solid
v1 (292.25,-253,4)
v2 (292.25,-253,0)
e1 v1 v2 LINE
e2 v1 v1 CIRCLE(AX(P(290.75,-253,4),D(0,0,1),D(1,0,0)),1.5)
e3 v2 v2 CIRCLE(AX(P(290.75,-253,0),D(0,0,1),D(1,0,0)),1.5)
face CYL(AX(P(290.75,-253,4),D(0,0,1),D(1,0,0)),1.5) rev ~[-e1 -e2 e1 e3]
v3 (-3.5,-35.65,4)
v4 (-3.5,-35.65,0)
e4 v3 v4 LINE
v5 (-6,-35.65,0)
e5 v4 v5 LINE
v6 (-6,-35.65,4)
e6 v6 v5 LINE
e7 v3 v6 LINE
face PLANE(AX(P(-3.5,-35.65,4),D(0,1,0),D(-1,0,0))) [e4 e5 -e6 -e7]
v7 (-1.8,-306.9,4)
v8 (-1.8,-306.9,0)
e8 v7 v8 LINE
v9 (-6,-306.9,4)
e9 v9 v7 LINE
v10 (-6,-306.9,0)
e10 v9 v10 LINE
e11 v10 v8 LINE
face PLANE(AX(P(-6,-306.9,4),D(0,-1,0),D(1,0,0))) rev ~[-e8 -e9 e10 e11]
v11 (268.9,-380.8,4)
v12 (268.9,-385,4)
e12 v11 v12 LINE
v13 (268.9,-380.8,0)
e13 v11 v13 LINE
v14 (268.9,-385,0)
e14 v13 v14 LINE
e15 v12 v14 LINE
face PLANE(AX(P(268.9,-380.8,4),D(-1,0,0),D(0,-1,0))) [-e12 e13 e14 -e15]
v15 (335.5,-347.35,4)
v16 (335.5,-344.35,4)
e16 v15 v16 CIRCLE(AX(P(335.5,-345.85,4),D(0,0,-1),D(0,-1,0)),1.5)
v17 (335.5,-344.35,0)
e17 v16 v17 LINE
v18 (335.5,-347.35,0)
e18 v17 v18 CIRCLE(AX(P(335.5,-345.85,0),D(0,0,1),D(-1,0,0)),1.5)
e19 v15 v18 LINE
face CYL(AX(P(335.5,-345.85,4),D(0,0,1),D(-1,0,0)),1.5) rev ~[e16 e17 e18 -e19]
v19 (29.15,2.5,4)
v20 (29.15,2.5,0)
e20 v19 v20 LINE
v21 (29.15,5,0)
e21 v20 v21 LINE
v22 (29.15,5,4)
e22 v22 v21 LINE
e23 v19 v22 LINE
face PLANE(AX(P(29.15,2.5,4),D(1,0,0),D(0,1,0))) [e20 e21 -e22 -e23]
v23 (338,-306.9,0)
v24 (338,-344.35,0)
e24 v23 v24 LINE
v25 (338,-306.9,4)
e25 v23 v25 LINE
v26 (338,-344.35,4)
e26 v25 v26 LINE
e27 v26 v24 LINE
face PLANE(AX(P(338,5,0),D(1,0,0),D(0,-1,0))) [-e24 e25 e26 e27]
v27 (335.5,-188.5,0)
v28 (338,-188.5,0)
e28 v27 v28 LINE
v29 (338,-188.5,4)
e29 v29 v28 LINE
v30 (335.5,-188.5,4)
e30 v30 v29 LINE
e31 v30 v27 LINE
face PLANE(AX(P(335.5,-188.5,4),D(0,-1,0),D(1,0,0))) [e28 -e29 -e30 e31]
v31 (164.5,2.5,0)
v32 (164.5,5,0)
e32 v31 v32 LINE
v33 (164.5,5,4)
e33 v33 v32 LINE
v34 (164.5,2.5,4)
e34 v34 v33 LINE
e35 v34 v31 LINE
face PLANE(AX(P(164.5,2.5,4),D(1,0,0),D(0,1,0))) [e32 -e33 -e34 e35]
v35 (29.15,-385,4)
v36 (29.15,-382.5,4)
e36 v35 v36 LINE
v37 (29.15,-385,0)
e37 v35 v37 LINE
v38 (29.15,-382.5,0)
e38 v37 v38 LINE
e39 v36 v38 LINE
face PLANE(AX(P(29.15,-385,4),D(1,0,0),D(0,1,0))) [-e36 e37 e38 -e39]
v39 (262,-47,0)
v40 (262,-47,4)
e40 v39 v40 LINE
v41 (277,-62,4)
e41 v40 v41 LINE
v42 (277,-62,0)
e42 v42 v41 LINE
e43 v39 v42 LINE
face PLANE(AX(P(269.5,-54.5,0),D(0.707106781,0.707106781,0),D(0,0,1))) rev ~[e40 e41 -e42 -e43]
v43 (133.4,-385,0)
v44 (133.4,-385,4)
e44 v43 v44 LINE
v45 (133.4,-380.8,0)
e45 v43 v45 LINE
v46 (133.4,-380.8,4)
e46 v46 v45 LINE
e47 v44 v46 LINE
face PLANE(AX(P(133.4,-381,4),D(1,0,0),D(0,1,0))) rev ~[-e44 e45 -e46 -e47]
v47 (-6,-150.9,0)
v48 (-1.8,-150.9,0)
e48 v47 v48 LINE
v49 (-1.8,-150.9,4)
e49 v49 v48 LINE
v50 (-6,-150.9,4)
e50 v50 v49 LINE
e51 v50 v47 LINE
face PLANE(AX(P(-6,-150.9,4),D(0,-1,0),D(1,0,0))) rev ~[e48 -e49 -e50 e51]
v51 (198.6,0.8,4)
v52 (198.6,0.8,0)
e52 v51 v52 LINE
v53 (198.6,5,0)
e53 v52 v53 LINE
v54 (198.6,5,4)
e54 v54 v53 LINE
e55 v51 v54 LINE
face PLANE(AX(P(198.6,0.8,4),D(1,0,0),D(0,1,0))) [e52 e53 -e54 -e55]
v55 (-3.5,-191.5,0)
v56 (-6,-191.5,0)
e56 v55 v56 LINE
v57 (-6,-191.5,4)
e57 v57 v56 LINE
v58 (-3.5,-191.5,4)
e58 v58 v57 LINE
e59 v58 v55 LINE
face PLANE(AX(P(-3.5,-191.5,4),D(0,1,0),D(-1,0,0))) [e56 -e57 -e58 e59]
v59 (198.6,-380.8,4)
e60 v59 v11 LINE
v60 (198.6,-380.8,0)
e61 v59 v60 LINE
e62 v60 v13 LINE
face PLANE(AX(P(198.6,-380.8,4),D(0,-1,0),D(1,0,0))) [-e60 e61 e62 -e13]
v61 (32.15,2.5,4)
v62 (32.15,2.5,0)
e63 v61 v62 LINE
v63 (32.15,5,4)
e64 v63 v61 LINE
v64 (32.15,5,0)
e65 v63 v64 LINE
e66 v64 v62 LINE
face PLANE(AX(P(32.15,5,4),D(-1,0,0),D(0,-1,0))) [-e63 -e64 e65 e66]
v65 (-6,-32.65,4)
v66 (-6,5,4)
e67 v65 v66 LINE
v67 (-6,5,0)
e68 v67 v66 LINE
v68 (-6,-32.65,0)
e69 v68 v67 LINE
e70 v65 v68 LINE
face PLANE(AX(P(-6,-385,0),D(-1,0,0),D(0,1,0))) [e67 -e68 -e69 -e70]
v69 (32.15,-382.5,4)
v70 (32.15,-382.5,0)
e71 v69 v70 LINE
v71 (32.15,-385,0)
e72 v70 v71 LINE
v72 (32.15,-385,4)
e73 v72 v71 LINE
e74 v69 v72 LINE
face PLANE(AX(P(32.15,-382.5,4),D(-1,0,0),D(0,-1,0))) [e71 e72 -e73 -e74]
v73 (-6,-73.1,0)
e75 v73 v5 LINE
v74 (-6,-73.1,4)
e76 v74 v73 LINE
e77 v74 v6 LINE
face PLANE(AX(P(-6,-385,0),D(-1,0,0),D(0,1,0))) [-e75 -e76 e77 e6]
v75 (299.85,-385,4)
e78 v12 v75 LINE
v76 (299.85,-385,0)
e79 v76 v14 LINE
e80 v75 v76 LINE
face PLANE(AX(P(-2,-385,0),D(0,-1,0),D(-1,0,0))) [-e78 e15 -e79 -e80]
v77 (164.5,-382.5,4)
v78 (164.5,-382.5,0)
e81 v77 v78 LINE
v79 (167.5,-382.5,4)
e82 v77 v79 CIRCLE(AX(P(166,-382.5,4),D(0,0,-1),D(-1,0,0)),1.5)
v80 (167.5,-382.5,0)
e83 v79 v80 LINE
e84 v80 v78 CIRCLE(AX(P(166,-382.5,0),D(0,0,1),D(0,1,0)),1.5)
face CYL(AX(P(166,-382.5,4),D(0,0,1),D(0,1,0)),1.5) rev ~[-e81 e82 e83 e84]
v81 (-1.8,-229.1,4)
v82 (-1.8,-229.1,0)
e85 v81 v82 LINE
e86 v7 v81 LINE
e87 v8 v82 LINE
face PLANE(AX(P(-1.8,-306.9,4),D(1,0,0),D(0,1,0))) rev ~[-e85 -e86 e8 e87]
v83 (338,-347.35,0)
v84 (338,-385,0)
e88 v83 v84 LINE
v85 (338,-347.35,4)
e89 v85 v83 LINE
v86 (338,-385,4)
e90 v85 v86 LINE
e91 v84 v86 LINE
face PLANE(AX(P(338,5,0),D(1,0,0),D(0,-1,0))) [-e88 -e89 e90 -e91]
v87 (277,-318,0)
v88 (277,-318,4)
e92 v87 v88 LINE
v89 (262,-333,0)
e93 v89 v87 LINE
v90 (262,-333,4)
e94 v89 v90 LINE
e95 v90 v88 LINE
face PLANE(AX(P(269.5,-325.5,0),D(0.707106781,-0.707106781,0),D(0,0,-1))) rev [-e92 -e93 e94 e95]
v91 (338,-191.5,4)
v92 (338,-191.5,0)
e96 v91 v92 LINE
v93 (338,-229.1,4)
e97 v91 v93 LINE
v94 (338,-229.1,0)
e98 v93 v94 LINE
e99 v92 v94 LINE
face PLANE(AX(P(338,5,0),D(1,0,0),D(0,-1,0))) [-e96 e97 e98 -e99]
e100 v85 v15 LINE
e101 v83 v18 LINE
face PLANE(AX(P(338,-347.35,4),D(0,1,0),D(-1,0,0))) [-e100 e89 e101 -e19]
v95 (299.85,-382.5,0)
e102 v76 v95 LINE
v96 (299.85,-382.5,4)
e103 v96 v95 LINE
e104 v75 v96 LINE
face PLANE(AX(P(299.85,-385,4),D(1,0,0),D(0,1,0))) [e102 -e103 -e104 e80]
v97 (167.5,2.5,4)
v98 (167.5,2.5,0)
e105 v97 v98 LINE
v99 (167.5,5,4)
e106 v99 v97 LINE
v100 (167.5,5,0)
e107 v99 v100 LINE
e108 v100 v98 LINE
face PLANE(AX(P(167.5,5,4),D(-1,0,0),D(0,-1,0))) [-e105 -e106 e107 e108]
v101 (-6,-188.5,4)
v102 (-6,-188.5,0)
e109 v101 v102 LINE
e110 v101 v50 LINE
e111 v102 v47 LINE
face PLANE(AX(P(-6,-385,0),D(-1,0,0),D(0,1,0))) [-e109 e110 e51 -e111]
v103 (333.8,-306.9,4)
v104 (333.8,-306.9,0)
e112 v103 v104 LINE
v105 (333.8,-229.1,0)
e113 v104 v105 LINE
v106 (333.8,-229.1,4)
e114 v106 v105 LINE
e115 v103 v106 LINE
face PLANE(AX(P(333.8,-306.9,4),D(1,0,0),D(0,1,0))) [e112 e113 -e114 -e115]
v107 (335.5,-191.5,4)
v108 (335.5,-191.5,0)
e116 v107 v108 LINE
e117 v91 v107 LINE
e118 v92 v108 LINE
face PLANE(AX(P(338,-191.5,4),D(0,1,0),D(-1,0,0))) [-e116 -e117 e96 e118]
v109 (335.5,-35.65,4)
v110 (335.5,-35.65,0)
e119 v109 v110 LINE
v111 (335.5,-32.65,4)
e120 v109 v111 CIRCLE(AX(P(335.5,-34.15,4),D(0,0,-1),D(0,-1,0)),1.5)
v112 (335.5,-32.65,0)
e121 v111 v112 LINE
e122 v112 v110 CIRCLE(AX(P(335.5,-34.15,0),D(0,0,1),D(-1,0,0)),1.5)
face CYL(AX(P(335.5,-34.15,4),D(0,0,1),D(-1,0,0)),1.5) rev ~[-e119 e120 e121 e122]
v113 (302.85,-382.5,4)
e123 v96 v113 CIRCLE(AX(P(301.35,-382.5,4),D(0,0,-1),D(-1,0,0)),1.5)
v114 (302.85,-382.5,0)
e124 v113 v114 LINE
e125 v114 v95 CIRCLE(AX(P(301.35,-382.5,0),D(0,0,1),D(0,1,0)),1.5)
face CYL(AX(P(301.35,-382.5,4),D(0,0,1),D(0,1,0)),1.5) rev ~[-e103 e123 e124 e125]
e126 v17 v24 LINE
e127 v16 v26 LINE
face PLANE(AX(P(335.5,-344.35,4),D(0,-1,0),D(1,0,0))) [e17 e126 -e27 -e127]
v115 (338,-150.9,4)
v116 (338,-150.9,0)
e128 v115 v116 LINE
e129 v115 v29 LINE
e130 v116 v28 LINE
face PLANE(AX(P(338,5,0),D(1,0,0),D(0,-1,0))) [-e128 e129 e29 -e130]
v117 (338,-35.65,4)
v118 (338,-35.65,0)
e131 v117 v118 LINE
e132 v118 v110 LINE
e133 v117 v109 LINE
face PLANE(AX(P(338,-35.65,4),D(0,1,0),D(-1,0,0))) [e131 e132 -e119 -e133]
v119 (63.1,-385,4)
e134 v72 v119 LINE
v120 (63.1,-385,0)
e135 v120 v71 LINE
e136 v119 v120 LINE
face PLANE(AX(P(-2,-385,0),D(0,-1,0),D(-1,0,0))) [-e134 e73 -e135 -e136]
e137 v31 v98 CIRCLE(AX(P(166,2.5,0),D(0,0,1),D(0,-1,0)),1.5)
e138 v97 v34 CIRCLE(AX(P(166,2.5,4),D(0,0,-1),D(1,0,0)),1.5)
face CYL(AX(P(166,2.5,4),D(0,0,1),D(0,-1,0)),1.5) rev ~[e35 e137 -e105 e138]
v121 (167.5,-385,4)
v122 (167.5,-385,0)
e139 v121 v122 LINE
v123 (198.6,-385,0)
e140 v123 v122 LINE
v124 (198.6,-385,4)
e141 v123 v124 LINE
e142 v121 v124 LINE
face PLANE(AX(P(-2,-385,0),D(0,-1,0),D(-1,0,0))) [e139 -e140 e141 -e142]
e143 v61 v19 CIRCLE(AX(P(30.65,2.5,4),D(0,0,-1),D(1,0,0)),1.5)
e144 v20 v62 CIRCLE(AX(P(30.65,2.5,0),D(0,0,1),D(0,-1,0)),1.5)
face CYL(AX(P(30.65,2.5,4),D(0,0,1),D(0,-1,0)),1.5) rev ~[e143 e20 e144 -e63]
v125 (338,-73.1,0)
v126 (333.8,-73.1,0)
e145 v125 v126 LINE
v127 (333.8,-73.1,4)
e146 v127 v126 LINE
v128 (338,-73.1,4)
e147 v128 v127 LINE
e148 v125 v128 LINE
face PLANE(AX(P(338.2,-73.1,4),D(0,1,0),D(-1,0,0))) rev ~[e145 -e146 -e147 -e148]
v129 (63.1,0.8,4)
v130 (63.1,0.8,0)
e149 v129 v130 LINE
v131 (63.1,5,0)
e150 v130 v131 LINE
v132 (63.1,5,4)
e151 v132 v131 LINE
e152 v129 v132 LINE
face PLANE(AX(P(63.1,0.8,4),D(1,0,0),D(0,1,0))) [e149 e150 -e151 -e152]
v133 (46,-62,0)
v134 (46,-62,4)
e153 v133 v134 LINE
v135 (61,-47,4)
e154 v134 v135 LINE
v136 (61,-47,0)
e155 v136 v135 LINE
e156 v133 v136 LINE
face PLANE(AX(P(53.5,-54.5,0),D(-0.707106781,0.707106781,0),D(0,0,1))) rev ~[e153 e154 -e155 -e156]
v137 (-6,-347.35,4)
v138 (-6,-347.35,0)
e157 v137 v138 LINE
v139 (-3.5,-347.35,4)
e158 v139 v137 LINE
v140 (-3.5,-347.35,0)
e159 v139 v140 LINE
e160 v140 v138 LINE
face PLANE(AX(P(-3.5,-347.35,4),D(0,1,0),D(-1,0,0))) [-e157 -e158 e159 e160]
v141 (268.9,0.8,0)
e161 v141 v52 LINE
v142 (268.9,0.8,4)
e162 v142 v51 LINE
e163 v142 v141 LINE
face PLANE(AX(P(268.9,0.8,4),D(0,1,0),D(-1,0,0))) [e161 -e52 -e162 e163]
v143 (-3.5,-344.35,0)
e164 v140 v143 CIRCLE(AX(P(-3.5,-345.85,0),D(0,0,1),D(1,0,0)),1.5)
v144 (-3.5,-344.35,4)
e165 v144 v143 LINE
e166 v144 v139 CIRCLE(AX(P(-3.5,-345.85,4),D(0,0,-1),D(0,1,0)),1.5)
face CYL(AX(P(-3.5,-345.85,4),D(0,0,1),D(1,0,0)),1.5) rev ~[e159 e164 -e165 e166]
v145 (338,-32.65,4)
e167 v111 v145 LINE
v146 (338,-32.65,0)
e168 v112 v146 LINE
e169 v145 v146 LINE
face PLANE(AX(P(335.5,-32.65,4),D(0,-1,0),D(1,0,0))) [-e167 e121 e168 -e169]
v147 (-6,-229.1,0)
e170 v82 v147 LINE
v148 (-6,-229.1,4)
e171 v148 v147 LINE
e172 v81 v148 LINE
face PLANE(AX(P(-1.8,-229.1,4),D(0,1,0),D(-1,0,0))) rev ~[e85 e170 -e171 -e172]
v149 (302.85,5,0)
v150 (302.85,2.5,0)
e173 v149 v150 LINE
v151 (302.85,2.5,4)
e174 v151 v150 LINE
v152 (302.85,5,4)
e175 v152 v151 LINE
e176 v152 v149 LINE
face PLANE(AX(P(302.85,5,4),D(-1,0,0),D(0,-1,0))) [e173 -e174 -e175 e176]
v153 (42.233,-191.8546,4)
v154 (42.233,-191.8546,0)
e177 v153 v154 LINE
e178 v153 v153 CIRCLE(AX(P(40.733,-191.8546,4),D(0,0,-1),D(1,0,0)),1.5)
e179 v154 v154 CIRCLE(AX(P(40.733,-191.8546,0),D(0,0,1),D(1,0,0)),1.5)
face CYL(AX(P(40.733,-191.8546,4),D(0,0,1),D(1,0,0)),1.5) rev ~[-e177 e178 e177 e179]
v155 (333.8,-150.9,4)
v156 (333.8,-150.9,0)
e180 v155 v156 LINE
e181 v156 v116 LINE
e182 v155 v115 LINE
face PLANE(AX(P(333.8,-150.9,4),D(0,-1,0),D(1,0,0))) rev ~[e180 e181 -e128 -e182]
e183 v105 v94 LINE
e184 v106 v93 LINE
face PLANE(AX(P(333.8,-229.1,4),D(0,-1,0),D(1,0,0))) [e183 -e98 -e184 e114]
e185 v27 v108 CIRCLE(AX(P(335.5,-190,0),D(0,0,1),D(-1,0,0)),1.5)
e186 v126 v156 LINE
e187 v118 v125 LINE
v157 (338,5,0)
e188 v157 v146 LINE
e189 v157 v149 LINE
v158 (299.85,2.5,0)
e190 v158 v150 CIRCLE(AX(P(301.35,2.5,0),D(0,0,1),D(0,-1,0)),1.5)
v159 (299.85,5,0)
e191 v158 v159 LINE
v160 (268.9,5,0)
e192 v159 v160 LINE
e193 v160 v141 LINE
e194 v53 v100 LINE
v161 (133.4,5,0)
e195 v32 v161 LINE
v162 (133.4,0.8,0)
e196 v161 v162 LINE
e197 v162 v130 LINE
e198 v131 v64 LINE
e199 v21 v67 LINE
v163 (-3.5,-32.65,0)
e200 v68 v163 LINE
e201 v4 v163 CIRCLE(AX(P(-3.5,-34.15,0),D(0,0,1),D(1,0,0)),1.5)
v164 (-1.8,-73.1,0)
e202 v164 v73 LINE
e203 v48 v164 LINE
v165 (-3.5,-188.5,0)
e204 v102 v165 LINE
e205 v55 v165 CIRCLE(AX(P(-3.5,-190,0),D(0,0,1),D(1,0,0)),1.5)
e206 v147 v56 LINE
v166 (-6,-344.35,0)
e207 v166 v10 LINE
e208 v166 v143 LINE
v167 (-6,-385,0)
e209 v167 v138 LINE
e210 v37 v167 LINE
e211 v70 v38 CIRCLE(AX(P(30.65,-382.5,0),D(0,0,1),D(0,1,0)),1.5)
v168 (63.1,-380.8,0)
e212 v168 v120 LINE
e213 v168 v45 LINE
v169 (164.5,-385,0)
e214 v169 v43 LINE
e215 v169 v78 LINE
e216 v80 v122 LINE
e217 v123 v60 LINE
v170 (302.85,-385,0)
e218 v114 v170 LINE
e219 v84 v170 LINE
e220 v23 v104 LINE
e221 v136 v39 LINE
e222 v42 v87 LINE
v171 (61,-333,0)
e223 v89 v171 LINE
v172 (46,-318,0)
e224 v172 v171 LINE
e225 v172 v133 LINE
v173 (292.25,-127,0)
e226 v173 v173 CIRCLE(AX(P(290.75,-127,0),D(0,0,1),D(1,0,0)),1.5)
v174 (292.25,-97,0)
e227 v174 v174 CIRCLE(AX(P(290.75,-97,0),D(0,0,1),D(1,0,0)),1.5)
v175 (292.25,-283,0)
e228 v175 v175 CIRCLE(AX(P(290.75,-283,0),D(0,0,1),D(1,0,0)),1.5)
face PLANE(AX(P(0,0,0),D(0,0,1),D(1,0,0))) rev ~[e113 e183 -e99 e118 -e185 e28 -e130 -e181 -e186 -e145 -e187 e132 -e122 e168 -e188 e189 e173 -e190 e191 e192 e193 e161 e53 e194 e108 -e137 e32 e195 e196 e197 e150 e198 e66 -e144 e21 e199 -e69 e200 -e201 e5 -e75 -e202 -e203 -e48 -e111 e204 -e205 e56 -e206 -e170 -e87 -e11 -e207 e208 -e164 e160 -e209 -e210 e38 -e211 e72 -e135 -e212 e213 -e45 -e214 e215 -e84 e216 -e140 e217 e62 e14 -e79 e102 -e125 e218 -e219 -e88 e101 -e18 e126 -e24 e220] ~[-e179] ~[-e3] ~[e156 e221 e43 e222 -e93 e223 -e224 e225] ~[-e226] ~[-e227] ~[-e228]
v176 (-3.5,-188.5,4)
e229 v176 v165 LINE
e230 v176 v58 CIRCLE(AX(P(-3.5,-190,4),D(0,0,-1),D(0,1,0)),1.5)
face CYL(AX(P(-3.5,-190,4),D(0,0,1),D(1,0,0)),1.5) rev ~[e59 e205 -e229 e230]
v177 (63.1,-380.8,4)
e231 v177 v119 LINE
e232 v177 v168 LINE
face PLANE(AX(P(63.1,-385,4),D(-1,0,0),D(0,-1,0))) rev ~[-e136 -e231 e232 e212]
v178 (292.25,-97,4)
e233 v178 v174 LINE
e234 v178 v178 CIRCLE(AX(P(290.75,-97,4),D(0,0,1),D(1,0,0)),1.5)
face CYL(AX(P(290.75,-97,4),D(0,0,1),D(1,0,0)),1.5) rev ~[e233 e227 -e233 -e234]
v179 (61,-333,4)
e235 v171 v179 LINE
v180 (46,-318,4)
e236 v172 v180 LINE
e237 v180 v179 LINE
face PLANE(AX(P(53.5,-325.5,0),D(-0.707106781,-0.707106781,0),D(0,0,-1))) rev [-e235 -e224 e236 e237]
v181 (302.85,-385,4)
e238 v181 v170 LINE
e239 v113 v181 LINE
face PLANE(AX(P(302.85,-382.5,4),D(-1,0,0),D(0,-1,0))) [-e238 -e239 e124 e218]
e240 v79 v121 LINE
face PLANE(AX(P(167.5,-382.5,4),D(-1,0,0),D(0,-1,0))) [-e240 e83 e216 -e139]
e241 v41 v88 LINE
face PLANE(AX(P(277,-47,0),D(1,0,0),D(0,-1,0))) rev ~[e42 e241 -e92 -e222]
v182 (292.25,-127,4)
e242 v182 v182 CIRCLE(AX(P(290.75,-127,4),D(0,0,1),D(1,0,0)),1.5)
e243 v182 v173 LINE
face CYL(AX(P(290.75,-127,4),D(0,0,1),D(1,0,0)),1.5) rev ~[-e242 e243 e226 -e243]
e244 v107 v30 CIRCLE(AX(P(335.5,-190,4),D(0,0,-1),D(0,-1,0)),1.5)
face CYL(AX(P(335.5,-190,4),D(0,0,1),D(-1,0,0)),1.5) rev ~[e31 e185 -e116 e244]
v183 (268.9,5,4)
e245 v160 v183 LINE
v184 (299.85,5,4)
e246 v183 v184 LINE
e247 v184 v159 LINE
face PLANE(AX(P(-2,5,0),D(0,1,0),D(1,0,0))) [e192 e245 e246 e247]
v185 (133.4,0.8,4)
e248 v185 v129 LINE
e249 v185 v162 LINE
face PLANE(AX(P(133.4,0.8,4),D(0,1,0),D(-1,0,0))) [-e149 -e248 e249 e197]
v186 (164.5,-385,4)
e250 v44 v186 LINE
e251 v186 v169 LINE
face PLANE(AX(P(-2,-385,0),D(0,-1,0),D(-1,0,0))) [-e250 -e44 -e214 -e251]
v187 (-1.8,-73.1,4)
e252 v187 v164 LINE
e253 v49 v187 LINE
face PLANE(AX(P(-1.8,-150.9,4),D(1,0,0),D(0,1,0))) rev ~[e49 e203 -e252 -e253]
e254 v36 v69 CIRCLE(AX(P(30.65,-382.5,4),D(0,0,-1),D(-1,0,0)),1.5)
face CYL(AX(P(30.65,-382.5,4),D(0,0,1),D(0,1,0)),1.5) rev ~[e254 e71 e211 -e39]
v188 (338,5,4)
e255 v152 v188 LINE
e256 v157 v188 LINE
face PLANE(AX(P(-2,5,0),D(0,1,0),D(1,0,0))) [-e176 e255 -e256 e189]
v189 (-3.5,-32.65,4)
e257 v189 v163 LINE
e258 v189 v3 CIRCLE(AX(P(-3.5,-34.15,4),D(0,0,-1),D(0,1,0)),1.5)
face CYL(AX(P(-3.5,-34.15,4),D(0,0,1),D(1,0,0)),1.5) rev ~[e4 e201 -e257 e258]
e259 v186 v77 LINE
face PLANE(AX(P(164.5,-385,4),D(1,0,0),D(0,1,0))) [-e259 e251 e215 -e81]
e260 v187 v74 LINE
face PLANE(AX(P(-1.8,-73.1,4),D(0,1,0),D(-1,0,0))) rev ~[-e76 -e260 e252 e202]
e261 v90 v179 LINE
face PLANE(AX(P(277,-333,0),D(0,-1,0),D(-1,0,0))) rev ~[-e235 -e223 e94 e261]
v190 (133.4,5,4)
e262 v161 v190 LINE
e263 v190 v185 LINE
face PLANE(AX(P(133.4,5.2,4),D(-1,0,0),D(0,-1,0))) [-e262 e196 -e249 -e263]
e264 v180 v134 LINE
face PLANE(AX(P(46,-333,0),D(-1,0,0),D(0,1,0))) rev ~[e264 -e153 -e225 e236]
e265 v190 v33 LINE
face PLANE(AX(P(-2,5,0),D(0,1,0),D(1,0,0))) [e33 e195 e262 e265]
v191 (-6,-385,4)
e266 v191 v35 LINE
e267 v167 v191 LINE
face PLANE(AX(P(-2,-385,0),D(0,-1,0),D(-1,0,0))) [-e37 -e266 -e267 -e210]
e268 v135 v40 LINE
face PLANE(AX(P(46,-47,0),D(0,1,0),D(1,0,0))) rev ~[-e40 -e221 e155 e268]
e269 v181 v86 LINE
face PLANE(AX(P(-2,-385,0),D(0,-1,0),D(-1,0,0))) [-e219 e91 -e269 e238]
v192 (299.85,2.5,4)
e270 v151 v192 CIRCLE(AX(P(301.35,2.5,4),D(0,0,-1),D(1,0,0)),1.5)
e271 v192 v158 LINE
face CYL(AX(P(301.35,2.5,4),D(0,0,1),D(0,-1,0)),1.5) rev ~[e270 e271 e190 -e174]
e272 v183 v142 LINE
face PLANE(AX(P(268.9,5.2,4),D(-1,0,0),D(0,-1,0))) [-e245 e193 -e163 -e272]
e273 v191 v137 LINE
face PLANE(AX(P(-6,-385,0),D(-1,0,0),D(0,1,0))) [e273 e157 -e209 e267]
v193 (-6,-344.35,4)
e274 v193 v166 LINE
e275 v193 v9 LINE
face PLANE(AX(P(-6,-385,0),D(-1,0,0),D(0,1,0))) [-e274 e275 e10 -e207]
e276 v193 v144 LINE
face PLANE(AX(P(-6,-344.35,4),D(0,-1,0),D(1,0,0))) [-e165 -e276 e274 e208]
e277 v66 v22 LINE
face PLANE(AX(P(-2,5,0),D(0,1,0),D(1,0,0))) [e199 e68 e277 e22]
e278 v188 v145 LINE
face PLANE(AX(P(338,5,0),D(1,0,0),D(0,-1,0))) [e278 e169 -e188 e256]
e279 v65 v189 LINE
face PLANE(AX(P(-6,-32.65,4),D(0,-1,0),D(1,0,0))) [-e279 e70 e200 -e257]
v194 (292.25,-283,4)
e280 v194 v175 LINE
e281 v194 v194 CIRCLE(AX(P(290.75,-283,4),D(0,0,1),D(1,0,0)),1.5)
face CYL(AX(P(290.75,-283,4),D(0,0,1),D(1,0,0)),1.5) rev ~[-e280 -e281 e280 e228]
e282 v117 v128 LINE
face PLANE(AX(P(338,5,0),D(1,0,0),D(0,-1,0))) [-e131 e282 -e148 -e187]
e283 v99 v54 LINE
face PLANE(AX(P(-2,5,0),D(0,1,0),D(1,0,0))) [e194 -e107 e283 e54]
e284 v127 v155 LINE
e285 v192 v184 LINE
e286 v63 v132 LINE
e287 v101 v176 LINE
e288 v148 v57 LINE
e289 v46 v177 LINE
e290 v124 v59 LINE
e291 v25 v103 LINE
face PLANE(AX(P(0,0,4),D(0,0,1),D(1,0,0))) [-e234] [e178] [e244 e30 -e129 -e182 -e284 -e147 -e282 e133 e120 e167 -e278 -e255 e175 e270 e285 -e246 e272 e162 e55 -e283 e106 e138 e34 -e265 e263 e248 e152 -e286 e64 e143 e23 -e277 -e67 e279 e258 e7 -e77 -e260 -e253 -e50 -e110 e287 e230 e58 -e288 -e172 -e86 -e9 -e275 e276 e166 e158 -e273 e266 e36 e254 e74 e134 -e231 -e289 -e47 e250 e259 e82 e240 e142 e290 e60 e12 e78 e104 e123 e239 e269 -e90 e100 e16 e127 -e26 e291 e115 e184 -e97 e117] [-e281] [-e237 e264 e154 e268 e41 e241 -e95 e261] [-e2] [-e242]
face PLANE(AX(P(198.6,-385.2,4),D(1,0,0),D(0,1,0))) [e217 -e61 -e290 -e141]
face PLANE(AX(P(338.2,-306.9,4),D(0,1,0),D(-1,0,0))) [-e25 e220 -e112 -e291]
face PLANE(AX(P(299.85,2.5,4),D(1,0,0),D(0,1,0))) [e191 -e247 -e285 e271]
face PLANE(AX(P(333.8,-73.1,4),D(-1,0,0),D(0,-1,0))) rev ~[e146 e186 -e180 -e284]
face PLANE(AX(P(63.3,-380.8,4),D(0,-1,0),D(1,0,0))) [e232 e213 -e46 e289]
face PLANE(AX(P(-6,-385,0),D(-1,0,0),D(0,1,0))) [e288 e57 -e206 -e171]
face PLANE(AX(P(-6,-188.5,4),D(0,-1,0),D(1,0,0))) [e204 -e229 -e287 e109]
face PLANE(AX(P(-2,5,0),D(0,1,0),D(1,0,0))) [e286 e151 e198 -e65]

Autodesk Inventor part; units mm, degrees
ref_plane "YZ Plane" through (0, 0, 0) normal (1, 0, 0) x (0, 1, 0)
ref_plane "XZ Plane" through (0, 0, 0) normal (0, 1, 0) x (-1, 0, 0)
ref_plane "XY Plane" through (0, 0, 0) normal (0, 0, 1) x (1, 0, 0)
sketch "Эскиз1" plane through (0, 0, 0) normal (0, 0, 1) x (1, 0, 0)
  line L0 (46, -47) -> (277, -47)
  line L1 (277, -47) -> (277, -333)
  line L2 (277, -333) -> (46, -333)
  line L3 (46, -333) -> (46, -47)
  line L4 (-2, 5) -> (334, 5) projected
  line L5 (338, 5) -> (338, -385) projected
  line L6 (334, -385) -> (-2, -385) projected
  line L7 (-6, -385) -> (-6, 5) projected
  line L8 (-6, 5) -> (338, 5)
  line L9 (338, 5) -> (338, -385)
  line L10 (338, -385) -> (-6, -385)
  line L11 (-6, -385) -> (-6, 5)
  dimension "d4" = 231
  dimension "d10" = 61
  dimension "d11" = 52
  dimension "d12" = 52
  dimension "d13" = 52
extrude "Выдавливание3" add sketch "Эскиз1" along normal blind 4
sketch "Эскиз3" plane through (0, 0, 4) normal (0, 0, 1) x (1, 0, 0)
  circle A0 centre (290.75, -97) radius 1.5
  circle A1 centre (290.75, -127) radius 1.5
  line L0 (46, -47) -> (277, -47) projected
  line L1 (277, -47) -> (277, -333) projected
  circle A2 centre (290.75, -253) radius 1.5
  circle A3 centre (290.75, -283) radius 1.5
  line L2 (277, -333) -> (46, -333) projected
  point P0 (0, 0)
  dimension "d19" = 3
  dimension "d20" = 3
  dimension "d21" = 30
  dimension "d22" = 50
  dimension "d23" = 13.75
  dimension "d24" = 13.75
  dimension "d25" = 3
  dimension "d26" = 3
  dimension "d27" = 30
  dimension "d28" = 13.75
  dimension "d29" = 13.75
  dimension "d30" = 50
extrude "Выдавливание4" cut sketch "Эскиз3" against normal blind 10
chamfer "Фаска1" distance 15 angle 45 4 edges at (277, -47, 2) (277, -333, 2) (46, -47, 2) (46, -333, 2)
sketch "Эскиз4" plane through (0, 0, 4) normal (0, 0, 1) x (1, 0, 0)
  ellipse E0 centre (40.9735, -191.8546) end of major axis (40.9735, -190.3546) minor radius 1.4997 projected
  line L0 (40.9735, -191.8546) -> (10.6659, -191.8546) construction
  circle A0 centre (40.733, -191.8546) radius 1.5
  line L1 (46, -62) -> (46, -318) projected
  point P0 (0, 0)
  dimension "d36" = 3
  dimension "d37" = 5.267
extrude "Выдавливание5" cut sketch "Эскиз4" against normal blind 10 contours A0 E0 | E0 A0 picked at (41.2979, -191.9775) picked at (39.4227, -191.6148)
sketch "Эскиз5" plane through (0, 0, 4) normal (0, 0, 1) x (1, 0, 0)
  line L0 (-6, -73.3) -> (-2, -73.3) projected
  line L1 (-6, -150.7) -> (-2, -150.7) projected
  line L2 (-2, -73.3) -> (-2, -150.7) projected
  line L3 (-6, 5) -> (-6, -385) projected
  line L4 (-6, -229.3) -> (-2, -229.3) projected
  line L5 (-2, -229.3) -> (-2, -306.7) projected
  line L6 (-6, -306.7) -> (-2, -306.7) projected
  line L7 (63.3, -385) -> (63.3, -381) projected
  line L8 (133.2, -385) -> (63.3, -385) projected
  line L9 (133.2, -385) -> (133.2, -381) projected
  line L10 (63.3, -381) -> (133.2, -381) projected
  line L11 (63.3, -385) -> (63.3, -381) projected
  line L12 (268.7, -385) -> (198.8, -385) projected
  line L13 (268.7, -385) -> (268.7, -381) projected
  line L14 (198.8, -381) -> (268.7, -381) projected
  line L15 (198.8, -385) -> (198.8, -381) projected
  line L16 (63.3, 5) -> (133.2, 5) projected
  line L17 (63.3, 5) -> (63.3, 1) projected
  line L18 (133.2, 1) -> (63.3, 1) projected
  line L19 (133.2, 5) -> (133.2, 1) projected
  line L20 (198.8, 5) -> (268.7, 5) projected
  line L21 (198.8, 5) -> (198.8, 1) projected
  line L22 (268.7, 1) -> (198.8, 1) projected
  line L23 (268.7, 5) -> (268.7, 1) projected
  line L24 (338, -229.3) -> (334, -229.3) projected
  line L25 (334, -306.7) -> (334, -229.3) projected
  line L26 (338, -306.7) -> (334, -306.7) projected
  line L27 (338, -229.3) -> (338, -306.7) projected
  line L28 (338, -150.7) -> (334, -150.7) projected
  line L29 (338, -73.3) -> (338, -150.7) projected
  line L30 (334, -150.7) -> (334, -73.3) projected
  line L31 (338, -73.3) -> (334, -73.3) projected
  line L32 (63.1, 0.8) -> (63.1, 5.2)
  line L33 (63.1, 5.2) -> (133.4, 5.2)
  line L34 (133.4, 5.2) -> (133.4, 0.8)
  line L35 (133.4, 0.8) -> (63.1, 0.8)
  line L36 (198.6, 0.8) -> (198.6, 5.2)
  line L37 (198.6, 5.2) -> (268.9, 5.2)
  line L38 (268.9, 5.2) -> (268.9, 0.8)
  line L39 (268.9, 0.8) -> (198.6, 0.8)
  line L40 (333.8, -73.1) -> (333.8, -150.9)
  line L41 (333.8, -150.9) -> (338.2, -150.9)
  line L42 (338.2, -150.9) -> (338.2, -73.1)
  line L43 (338.2, -73.1) -> (333.8, -73.1)
  line L44 (333.8, -229.1) -> (338.2, -229.1)
  line L45 (338.2, -229.1) -> (338.2, -306.9)
  line L46 (338.2, -306.9) -> (333.8, -306.9)
  line L47 (333.8, -306.9) -> (333.8, -229.1)
  line L48 (268.9, -380.8) -> (268.9, -385.2)
  line L49 (268.9, -385.2) -> (198.6, -385.2)
  line L50 (198.6, -385.2) -> (198.6, -380.8)
  line L51 (198.6, -380.8) -> (268.9, -380.8)
  line L52 (133.2, -385) -> (63.3, -385) projected
  line L53 (133.2, -385) -> (133.2, -381) projected
  line L54 (63.3, -381) -> (133.2, -381) projected
  line L55 (63.3, -385) -> (63.3, -381) projected
  line L56 (63.3, -385) -> (63.3, -381) projected
  line L57 (63.3, -381) -> (133.2, -381) projected
  line L58 (-6, -306.9) -> (-1.8, -306.9)
  line L59 (-1.8, -306.9) -> (-1.8, -229.1)
  line L60 (-1.8, -229.1) -> (-6, -229.1)
  line L61 (-6, -150.9) -> (-1.8, -150.9)
  line L62 (-1.8, -150.9) -> (-1.8, -73.1)
  line L63 (-1.8, -73.1) -> (-6, -73.1)
  line L64 (-6, -73.1) -> (-6, -150.9)
  line L65 (-6, -229.1) -> (-6, -306.9)
  line L66 (63.3, -381) -> (133.2, -381)
  line L67 (133.2, -381) -> (133.2, -385)
  line L68 (133.2, -385) -> (63.3, -385)
  line L69 (63.3, -385) -> (63.3, -381)
  line L70 (63.3, -380.8) -> (133.2, -380.8)
  line L71 (63.1, -385) -> (63.1, -381)
  line L72 (133.4, -385) -> (133.4, -381)
  line L73 (133.4, -380.8) -> (63.1, -380.8)
  line L74 (63.1, -380.8) -> (63.1, -385.2)
  line L75 (63.1, -385.2) -> (133.4, -385.2)
  line L76 (133.4, -385.2) -> (133.4, -380.8)
  point P0 (0, 0)
  dimension "d40" = 4
  dimension "d41" = 69.9
  dimension "d42" = 69.9
  dimension "d43" = 0.2
  dimension "d44" = 0.2
  dimension "d45" = 0.2
  dimension "d46" = 0.2
  dimension "d47" = 0.2
  dimension "d48" = 0.2
  dimension "d49" = 0.2
  dimension "d50" = 0.2
  dimension "d51" = 0.2
  dimension "d52" = 0.2
extrude "Выдавливание6" cut sketch "Эскиз5" against normal blind 4.2 contours L3 L63 L62 L61 L1 L2 L0 | L60 L59 L58 L3 L6 L5 L4 | L0 L2 L1 L3 | L4 L5 L6 L3 | L7 L10 L9 L8 | L12 L15 L14 L13 | L16 L19 L18 L17 | L20 L23 L22 L21 | L27 L26 L25 L24 | L28 L30 L31 L29 | L32 L33 L34 L35 | L36 L37 L38 L39 | L43 L42 L41 L40 | L44 L45 L46 L47 | L48 L49 L50 L51 | L70 L73 L76 L72 L75 L74 L71
sketch "Эскиз6" plane through (0, 0, 4) normal (0, 0, 1) x (1, 0, 0)
  line L0 (302.85, -381) -> (302.85, -385) projected
  line L1 (299.85, -385) -> (299.85, -381) projected
  line L2 (167.5, -381) -> (167.5, -385) projected
  line L3 (164.5, -385) -> (164.5, -381) projected
  line L4 (32.15, -381) -> (32.15, -385) projected
  line L5 (29.15, -385) -> (29.15, -381) projected
  line L6 (301.35, -381) -> (301.35, -381)
  line L7 (166, -381) -> (166, -381)
  line L8 (30.65, -381) -> (30.65, -381)
  line L9 (63.1, -380.8) -> (133.4, -380.8) projected
  line L10 (302.85, -381) -> (299.85, -381)
  line L11 (299.85, -382.5) -> (299.85, -385)
  line L12 (299.85, -385) -> (302.85, -385)
  line L13 (302.85, -385) -> (302.85, -382.5)
  line L14 (167.5, -381) -> (164.5, -381)
  line L15 (164.5, -382.5) -> (164.5, -385)
  line L16 (164.5, -385) -> (167.5, -385)
  line L17 (167.5, -385) -> (167.5, -382.5)
  line L18 (32.15, -381) -> (29.15, -381)
  line L19 (29.15, -382.5) -> (29.15, -385)
  line L20 (29.15, -385) -> (32.15, -385)
  line L21 (32.15, -385) -> (32.15, -382.5)
  line L22 (334, -344.35) -> (338, -344.35) projected
  line L23 (338, -347.35) -> (334, -347.35) projected
  line L24 (334, -188.5) -> (338, -188.5) projected
  line L25 (338, -191.5) -> (334, -191.5) projected
  line L26 (334, -32.65) -> (338, -32.65) projected
  line L27 (338, -35.65) -> (334, -35.65) projected
  line L28 (302.85, 5) -> (302.85, 1) projected
  line L29 (299.85, 1) -> (299.85, 5) projected
  line L30 (167.5, 5) -> (167.5, 1) projected
  line L31 (164.5, 1) -> (164.5, 5) projected
  line L32 (32.15, 5) -> (32.15, 1) projected
  line L33 (29.15, 1) -> (29.15, 5) projected
  line L34 (-6, -32.65) -> (-2, -32.65) projected
  line L35 (-2, -35.65) -> (-6, -35.65) projected
  line L36 (-6, -188.5) -> (-2, -188.5) projected
  line L37 (-2, -191.5) -> (-6, -191.5) projected
  line L38 (-6, -344.35) -> (-2, -344.35) projected
  line L39 (-2, -347.35) -> (-6, -347.35) projected
  line L40 (338, -344.35) -> (335.5, -344.35)
  line L41 (334, -345.85) -> (334, -345.85)
  line L42 (335.5, -347.35) -> (338, -347.35)
  line L43 (338, -347.35) -> (338, -344.35)
  line L44 (338, -188.5) -> (335.5, -188.5)
  line L45 (334, -190) -> (334, -190)
  line L46 (335.5, -191.5) -> (338, -191.5)
  line L47 (338, -191.5) -> (338, -188.5)
  line L48 (338, -32.65) -> (335.5, -32.65)
  line L49 (334, -34.15) -> (334, -34.15)
  line L50 (335.5, -35.65) -> (338, -35.65)
  line L51 (338, -35.65) -> (338, -32.65)
  line L52 (302.85, 5) -> (299.85, 5)
  line L53 (299.85, 5) -> (299.85, 2.5)
  line L54 (301.35, 1) -> (301.35, 1)
  line L55 (302.85, 2.5) -> (302.85, 5)
  line L56 (167.5, 5) -> (164.5, 5)
  line L57 (164.5, 5) -> (164.5, 2.5)
  line L58 (166, 1) -> (166, 1)
  line L59 (167.5, 2.5) -> (167.5, 5)
  line L60 (32.15, 5) -> (29.15, 5)
  line L61 (29.15, 5) -> (29.15, 2.5)
  line L62 (30.65, 1) -> (30.65, 1)
  line L63 (32.15, 2.5) -> (32.15, 5)
  line L64 (-3.5, -32.65) -> (-6, -32.65)
  line L65 (-6, -32.65) -> (-6, -35.65)
  line L66 (-6, -35.65) -> (-3.5, -35.65)
  line L67 (-2, -34.15) -> (-2, -34.15)
  line L68 (-3.5, -188.5) -> (-6, -188.5)
  line L69 (-6, -188.5) -> (-6, -191.5)
  line L70 (-6, -191.5) -> (-3.5, -191.5)
  line L71 (-2, -190) -> (-2, -190)
  line L72 (-3.5, -344.35) -> (-6, -344.35)
  line L73 (-6, -344.35) -> (-6, -347.35)
  line L74 (-6, -347.35) -> (-3.5, -347.35)
  line L75 (-2, -345.85) -> (-2, -345.85)
  arc A0 (167.5, -382.5) -> (166, -381) centre (166, -382.5) ccw
  arc A1 (166, -381) -> (164.5, -382.5) centre (166, -382.5) ccw
  arc A2 (32.15, -382.5) -> (30.65, -381) centre (30.65, -382.5) ccw
  arc A3 (30.65, -381) -> (29.15, -382.5) centre (30.65, -382.5) ccw
  arc A4 (-2, -345.85) -> (-3.5, -344.35) centre (-3.5, -345.85) ccw
  arc A5 (-3.5, -347.35) -> (-2, -345.85) centre (-3.5, -345.85) ccw
  arc A6 (-2, -190) -> (-3.5, -188.5) centre (-3.5, -190) ccw
  arc A7 (-3.5, -191.5) -> (-2, -190) centre (-3.5, -190) ccw
  arc A8 (-2, -34.15) -> (-3.5, -32.65) centre (-3.5, -34.15) ccw
  arc A9 (-3.5, -35.65) -> (-2, -34.15) centre (-3.5, -34.15) ccw
  arc A10 (30.65, 1) -> (32.15, 2.5) centre (30.65, 2.5) ccw
  arc A11 (29.15, 2.5) -> (30.65, 1) centre (30.65, 2.5) ccw
  arc A12 (166, 1) -> (167.5, 2.5) centre (166, 2.5) ccw
  arc A13 (164.5, 2.5) -> (166, 1) centre (166, 2.5) ccw
  arc A14 (301.35, 1) -> (302.85, 2.5) centre (301.35, 2.5) ccw
  arc A15 (299.85, 2.5) -> (301.35, 1) centre (301.35, 2.5) ccw
  arc A16 (335.5, -32.65) -> (334, -34.15) centre (335.5, -34.15) ccw
  arc A17 (334, -34.15) -> (335.5, -35.65) centre (335.5, -34.15) ccw
  arc A18 (335.5, -188.5) -> (334, -190) centre (335.5, -190) ccw
  arc A19 (334, -190) -> (335.5, -191.5) centre (335.5, -190) ccw
  arc A20 (335.5, -344.35) -> (334, -345.85) centre (335.5, -345.85) ccw
  arc A21 (334, -345.85) -> (335.5, -347.35) centre (335.5, -345.85) ccw
  arc A22 (302.85, -382.5) -> (301.35, -381) centre (301.35, -382.5) ccw
  arc A23 (301.35, -381) -> (299.85, -382.5) centre (301.35, -382.5) ccw
  point P0 (0, 0)
  dimension "d55" = 1.5
  dimension "d56" = 1.5
extrude "Выдавливание7" cut sketch "Эскиз6" against normal blind 10 contours L0 L12 L1 A23 A22 | L2 L16 L3 A1 A0 | L4 L20 L5 A3 A2 | L22 L43 L23 A21 A20 | L24 L47 L25 A19 A18 | L26 L51 L27 A17 A16 | L28 A14 A15 L29 L52 | L30 A12 A13 L31 L56 | L32 A10 A11 L33 L60 | L34 A8 A9 L35 L65 | L36 A6 A7 L37 L69 | L38 A4 A5 L39 L73
properties part number "крышка"
